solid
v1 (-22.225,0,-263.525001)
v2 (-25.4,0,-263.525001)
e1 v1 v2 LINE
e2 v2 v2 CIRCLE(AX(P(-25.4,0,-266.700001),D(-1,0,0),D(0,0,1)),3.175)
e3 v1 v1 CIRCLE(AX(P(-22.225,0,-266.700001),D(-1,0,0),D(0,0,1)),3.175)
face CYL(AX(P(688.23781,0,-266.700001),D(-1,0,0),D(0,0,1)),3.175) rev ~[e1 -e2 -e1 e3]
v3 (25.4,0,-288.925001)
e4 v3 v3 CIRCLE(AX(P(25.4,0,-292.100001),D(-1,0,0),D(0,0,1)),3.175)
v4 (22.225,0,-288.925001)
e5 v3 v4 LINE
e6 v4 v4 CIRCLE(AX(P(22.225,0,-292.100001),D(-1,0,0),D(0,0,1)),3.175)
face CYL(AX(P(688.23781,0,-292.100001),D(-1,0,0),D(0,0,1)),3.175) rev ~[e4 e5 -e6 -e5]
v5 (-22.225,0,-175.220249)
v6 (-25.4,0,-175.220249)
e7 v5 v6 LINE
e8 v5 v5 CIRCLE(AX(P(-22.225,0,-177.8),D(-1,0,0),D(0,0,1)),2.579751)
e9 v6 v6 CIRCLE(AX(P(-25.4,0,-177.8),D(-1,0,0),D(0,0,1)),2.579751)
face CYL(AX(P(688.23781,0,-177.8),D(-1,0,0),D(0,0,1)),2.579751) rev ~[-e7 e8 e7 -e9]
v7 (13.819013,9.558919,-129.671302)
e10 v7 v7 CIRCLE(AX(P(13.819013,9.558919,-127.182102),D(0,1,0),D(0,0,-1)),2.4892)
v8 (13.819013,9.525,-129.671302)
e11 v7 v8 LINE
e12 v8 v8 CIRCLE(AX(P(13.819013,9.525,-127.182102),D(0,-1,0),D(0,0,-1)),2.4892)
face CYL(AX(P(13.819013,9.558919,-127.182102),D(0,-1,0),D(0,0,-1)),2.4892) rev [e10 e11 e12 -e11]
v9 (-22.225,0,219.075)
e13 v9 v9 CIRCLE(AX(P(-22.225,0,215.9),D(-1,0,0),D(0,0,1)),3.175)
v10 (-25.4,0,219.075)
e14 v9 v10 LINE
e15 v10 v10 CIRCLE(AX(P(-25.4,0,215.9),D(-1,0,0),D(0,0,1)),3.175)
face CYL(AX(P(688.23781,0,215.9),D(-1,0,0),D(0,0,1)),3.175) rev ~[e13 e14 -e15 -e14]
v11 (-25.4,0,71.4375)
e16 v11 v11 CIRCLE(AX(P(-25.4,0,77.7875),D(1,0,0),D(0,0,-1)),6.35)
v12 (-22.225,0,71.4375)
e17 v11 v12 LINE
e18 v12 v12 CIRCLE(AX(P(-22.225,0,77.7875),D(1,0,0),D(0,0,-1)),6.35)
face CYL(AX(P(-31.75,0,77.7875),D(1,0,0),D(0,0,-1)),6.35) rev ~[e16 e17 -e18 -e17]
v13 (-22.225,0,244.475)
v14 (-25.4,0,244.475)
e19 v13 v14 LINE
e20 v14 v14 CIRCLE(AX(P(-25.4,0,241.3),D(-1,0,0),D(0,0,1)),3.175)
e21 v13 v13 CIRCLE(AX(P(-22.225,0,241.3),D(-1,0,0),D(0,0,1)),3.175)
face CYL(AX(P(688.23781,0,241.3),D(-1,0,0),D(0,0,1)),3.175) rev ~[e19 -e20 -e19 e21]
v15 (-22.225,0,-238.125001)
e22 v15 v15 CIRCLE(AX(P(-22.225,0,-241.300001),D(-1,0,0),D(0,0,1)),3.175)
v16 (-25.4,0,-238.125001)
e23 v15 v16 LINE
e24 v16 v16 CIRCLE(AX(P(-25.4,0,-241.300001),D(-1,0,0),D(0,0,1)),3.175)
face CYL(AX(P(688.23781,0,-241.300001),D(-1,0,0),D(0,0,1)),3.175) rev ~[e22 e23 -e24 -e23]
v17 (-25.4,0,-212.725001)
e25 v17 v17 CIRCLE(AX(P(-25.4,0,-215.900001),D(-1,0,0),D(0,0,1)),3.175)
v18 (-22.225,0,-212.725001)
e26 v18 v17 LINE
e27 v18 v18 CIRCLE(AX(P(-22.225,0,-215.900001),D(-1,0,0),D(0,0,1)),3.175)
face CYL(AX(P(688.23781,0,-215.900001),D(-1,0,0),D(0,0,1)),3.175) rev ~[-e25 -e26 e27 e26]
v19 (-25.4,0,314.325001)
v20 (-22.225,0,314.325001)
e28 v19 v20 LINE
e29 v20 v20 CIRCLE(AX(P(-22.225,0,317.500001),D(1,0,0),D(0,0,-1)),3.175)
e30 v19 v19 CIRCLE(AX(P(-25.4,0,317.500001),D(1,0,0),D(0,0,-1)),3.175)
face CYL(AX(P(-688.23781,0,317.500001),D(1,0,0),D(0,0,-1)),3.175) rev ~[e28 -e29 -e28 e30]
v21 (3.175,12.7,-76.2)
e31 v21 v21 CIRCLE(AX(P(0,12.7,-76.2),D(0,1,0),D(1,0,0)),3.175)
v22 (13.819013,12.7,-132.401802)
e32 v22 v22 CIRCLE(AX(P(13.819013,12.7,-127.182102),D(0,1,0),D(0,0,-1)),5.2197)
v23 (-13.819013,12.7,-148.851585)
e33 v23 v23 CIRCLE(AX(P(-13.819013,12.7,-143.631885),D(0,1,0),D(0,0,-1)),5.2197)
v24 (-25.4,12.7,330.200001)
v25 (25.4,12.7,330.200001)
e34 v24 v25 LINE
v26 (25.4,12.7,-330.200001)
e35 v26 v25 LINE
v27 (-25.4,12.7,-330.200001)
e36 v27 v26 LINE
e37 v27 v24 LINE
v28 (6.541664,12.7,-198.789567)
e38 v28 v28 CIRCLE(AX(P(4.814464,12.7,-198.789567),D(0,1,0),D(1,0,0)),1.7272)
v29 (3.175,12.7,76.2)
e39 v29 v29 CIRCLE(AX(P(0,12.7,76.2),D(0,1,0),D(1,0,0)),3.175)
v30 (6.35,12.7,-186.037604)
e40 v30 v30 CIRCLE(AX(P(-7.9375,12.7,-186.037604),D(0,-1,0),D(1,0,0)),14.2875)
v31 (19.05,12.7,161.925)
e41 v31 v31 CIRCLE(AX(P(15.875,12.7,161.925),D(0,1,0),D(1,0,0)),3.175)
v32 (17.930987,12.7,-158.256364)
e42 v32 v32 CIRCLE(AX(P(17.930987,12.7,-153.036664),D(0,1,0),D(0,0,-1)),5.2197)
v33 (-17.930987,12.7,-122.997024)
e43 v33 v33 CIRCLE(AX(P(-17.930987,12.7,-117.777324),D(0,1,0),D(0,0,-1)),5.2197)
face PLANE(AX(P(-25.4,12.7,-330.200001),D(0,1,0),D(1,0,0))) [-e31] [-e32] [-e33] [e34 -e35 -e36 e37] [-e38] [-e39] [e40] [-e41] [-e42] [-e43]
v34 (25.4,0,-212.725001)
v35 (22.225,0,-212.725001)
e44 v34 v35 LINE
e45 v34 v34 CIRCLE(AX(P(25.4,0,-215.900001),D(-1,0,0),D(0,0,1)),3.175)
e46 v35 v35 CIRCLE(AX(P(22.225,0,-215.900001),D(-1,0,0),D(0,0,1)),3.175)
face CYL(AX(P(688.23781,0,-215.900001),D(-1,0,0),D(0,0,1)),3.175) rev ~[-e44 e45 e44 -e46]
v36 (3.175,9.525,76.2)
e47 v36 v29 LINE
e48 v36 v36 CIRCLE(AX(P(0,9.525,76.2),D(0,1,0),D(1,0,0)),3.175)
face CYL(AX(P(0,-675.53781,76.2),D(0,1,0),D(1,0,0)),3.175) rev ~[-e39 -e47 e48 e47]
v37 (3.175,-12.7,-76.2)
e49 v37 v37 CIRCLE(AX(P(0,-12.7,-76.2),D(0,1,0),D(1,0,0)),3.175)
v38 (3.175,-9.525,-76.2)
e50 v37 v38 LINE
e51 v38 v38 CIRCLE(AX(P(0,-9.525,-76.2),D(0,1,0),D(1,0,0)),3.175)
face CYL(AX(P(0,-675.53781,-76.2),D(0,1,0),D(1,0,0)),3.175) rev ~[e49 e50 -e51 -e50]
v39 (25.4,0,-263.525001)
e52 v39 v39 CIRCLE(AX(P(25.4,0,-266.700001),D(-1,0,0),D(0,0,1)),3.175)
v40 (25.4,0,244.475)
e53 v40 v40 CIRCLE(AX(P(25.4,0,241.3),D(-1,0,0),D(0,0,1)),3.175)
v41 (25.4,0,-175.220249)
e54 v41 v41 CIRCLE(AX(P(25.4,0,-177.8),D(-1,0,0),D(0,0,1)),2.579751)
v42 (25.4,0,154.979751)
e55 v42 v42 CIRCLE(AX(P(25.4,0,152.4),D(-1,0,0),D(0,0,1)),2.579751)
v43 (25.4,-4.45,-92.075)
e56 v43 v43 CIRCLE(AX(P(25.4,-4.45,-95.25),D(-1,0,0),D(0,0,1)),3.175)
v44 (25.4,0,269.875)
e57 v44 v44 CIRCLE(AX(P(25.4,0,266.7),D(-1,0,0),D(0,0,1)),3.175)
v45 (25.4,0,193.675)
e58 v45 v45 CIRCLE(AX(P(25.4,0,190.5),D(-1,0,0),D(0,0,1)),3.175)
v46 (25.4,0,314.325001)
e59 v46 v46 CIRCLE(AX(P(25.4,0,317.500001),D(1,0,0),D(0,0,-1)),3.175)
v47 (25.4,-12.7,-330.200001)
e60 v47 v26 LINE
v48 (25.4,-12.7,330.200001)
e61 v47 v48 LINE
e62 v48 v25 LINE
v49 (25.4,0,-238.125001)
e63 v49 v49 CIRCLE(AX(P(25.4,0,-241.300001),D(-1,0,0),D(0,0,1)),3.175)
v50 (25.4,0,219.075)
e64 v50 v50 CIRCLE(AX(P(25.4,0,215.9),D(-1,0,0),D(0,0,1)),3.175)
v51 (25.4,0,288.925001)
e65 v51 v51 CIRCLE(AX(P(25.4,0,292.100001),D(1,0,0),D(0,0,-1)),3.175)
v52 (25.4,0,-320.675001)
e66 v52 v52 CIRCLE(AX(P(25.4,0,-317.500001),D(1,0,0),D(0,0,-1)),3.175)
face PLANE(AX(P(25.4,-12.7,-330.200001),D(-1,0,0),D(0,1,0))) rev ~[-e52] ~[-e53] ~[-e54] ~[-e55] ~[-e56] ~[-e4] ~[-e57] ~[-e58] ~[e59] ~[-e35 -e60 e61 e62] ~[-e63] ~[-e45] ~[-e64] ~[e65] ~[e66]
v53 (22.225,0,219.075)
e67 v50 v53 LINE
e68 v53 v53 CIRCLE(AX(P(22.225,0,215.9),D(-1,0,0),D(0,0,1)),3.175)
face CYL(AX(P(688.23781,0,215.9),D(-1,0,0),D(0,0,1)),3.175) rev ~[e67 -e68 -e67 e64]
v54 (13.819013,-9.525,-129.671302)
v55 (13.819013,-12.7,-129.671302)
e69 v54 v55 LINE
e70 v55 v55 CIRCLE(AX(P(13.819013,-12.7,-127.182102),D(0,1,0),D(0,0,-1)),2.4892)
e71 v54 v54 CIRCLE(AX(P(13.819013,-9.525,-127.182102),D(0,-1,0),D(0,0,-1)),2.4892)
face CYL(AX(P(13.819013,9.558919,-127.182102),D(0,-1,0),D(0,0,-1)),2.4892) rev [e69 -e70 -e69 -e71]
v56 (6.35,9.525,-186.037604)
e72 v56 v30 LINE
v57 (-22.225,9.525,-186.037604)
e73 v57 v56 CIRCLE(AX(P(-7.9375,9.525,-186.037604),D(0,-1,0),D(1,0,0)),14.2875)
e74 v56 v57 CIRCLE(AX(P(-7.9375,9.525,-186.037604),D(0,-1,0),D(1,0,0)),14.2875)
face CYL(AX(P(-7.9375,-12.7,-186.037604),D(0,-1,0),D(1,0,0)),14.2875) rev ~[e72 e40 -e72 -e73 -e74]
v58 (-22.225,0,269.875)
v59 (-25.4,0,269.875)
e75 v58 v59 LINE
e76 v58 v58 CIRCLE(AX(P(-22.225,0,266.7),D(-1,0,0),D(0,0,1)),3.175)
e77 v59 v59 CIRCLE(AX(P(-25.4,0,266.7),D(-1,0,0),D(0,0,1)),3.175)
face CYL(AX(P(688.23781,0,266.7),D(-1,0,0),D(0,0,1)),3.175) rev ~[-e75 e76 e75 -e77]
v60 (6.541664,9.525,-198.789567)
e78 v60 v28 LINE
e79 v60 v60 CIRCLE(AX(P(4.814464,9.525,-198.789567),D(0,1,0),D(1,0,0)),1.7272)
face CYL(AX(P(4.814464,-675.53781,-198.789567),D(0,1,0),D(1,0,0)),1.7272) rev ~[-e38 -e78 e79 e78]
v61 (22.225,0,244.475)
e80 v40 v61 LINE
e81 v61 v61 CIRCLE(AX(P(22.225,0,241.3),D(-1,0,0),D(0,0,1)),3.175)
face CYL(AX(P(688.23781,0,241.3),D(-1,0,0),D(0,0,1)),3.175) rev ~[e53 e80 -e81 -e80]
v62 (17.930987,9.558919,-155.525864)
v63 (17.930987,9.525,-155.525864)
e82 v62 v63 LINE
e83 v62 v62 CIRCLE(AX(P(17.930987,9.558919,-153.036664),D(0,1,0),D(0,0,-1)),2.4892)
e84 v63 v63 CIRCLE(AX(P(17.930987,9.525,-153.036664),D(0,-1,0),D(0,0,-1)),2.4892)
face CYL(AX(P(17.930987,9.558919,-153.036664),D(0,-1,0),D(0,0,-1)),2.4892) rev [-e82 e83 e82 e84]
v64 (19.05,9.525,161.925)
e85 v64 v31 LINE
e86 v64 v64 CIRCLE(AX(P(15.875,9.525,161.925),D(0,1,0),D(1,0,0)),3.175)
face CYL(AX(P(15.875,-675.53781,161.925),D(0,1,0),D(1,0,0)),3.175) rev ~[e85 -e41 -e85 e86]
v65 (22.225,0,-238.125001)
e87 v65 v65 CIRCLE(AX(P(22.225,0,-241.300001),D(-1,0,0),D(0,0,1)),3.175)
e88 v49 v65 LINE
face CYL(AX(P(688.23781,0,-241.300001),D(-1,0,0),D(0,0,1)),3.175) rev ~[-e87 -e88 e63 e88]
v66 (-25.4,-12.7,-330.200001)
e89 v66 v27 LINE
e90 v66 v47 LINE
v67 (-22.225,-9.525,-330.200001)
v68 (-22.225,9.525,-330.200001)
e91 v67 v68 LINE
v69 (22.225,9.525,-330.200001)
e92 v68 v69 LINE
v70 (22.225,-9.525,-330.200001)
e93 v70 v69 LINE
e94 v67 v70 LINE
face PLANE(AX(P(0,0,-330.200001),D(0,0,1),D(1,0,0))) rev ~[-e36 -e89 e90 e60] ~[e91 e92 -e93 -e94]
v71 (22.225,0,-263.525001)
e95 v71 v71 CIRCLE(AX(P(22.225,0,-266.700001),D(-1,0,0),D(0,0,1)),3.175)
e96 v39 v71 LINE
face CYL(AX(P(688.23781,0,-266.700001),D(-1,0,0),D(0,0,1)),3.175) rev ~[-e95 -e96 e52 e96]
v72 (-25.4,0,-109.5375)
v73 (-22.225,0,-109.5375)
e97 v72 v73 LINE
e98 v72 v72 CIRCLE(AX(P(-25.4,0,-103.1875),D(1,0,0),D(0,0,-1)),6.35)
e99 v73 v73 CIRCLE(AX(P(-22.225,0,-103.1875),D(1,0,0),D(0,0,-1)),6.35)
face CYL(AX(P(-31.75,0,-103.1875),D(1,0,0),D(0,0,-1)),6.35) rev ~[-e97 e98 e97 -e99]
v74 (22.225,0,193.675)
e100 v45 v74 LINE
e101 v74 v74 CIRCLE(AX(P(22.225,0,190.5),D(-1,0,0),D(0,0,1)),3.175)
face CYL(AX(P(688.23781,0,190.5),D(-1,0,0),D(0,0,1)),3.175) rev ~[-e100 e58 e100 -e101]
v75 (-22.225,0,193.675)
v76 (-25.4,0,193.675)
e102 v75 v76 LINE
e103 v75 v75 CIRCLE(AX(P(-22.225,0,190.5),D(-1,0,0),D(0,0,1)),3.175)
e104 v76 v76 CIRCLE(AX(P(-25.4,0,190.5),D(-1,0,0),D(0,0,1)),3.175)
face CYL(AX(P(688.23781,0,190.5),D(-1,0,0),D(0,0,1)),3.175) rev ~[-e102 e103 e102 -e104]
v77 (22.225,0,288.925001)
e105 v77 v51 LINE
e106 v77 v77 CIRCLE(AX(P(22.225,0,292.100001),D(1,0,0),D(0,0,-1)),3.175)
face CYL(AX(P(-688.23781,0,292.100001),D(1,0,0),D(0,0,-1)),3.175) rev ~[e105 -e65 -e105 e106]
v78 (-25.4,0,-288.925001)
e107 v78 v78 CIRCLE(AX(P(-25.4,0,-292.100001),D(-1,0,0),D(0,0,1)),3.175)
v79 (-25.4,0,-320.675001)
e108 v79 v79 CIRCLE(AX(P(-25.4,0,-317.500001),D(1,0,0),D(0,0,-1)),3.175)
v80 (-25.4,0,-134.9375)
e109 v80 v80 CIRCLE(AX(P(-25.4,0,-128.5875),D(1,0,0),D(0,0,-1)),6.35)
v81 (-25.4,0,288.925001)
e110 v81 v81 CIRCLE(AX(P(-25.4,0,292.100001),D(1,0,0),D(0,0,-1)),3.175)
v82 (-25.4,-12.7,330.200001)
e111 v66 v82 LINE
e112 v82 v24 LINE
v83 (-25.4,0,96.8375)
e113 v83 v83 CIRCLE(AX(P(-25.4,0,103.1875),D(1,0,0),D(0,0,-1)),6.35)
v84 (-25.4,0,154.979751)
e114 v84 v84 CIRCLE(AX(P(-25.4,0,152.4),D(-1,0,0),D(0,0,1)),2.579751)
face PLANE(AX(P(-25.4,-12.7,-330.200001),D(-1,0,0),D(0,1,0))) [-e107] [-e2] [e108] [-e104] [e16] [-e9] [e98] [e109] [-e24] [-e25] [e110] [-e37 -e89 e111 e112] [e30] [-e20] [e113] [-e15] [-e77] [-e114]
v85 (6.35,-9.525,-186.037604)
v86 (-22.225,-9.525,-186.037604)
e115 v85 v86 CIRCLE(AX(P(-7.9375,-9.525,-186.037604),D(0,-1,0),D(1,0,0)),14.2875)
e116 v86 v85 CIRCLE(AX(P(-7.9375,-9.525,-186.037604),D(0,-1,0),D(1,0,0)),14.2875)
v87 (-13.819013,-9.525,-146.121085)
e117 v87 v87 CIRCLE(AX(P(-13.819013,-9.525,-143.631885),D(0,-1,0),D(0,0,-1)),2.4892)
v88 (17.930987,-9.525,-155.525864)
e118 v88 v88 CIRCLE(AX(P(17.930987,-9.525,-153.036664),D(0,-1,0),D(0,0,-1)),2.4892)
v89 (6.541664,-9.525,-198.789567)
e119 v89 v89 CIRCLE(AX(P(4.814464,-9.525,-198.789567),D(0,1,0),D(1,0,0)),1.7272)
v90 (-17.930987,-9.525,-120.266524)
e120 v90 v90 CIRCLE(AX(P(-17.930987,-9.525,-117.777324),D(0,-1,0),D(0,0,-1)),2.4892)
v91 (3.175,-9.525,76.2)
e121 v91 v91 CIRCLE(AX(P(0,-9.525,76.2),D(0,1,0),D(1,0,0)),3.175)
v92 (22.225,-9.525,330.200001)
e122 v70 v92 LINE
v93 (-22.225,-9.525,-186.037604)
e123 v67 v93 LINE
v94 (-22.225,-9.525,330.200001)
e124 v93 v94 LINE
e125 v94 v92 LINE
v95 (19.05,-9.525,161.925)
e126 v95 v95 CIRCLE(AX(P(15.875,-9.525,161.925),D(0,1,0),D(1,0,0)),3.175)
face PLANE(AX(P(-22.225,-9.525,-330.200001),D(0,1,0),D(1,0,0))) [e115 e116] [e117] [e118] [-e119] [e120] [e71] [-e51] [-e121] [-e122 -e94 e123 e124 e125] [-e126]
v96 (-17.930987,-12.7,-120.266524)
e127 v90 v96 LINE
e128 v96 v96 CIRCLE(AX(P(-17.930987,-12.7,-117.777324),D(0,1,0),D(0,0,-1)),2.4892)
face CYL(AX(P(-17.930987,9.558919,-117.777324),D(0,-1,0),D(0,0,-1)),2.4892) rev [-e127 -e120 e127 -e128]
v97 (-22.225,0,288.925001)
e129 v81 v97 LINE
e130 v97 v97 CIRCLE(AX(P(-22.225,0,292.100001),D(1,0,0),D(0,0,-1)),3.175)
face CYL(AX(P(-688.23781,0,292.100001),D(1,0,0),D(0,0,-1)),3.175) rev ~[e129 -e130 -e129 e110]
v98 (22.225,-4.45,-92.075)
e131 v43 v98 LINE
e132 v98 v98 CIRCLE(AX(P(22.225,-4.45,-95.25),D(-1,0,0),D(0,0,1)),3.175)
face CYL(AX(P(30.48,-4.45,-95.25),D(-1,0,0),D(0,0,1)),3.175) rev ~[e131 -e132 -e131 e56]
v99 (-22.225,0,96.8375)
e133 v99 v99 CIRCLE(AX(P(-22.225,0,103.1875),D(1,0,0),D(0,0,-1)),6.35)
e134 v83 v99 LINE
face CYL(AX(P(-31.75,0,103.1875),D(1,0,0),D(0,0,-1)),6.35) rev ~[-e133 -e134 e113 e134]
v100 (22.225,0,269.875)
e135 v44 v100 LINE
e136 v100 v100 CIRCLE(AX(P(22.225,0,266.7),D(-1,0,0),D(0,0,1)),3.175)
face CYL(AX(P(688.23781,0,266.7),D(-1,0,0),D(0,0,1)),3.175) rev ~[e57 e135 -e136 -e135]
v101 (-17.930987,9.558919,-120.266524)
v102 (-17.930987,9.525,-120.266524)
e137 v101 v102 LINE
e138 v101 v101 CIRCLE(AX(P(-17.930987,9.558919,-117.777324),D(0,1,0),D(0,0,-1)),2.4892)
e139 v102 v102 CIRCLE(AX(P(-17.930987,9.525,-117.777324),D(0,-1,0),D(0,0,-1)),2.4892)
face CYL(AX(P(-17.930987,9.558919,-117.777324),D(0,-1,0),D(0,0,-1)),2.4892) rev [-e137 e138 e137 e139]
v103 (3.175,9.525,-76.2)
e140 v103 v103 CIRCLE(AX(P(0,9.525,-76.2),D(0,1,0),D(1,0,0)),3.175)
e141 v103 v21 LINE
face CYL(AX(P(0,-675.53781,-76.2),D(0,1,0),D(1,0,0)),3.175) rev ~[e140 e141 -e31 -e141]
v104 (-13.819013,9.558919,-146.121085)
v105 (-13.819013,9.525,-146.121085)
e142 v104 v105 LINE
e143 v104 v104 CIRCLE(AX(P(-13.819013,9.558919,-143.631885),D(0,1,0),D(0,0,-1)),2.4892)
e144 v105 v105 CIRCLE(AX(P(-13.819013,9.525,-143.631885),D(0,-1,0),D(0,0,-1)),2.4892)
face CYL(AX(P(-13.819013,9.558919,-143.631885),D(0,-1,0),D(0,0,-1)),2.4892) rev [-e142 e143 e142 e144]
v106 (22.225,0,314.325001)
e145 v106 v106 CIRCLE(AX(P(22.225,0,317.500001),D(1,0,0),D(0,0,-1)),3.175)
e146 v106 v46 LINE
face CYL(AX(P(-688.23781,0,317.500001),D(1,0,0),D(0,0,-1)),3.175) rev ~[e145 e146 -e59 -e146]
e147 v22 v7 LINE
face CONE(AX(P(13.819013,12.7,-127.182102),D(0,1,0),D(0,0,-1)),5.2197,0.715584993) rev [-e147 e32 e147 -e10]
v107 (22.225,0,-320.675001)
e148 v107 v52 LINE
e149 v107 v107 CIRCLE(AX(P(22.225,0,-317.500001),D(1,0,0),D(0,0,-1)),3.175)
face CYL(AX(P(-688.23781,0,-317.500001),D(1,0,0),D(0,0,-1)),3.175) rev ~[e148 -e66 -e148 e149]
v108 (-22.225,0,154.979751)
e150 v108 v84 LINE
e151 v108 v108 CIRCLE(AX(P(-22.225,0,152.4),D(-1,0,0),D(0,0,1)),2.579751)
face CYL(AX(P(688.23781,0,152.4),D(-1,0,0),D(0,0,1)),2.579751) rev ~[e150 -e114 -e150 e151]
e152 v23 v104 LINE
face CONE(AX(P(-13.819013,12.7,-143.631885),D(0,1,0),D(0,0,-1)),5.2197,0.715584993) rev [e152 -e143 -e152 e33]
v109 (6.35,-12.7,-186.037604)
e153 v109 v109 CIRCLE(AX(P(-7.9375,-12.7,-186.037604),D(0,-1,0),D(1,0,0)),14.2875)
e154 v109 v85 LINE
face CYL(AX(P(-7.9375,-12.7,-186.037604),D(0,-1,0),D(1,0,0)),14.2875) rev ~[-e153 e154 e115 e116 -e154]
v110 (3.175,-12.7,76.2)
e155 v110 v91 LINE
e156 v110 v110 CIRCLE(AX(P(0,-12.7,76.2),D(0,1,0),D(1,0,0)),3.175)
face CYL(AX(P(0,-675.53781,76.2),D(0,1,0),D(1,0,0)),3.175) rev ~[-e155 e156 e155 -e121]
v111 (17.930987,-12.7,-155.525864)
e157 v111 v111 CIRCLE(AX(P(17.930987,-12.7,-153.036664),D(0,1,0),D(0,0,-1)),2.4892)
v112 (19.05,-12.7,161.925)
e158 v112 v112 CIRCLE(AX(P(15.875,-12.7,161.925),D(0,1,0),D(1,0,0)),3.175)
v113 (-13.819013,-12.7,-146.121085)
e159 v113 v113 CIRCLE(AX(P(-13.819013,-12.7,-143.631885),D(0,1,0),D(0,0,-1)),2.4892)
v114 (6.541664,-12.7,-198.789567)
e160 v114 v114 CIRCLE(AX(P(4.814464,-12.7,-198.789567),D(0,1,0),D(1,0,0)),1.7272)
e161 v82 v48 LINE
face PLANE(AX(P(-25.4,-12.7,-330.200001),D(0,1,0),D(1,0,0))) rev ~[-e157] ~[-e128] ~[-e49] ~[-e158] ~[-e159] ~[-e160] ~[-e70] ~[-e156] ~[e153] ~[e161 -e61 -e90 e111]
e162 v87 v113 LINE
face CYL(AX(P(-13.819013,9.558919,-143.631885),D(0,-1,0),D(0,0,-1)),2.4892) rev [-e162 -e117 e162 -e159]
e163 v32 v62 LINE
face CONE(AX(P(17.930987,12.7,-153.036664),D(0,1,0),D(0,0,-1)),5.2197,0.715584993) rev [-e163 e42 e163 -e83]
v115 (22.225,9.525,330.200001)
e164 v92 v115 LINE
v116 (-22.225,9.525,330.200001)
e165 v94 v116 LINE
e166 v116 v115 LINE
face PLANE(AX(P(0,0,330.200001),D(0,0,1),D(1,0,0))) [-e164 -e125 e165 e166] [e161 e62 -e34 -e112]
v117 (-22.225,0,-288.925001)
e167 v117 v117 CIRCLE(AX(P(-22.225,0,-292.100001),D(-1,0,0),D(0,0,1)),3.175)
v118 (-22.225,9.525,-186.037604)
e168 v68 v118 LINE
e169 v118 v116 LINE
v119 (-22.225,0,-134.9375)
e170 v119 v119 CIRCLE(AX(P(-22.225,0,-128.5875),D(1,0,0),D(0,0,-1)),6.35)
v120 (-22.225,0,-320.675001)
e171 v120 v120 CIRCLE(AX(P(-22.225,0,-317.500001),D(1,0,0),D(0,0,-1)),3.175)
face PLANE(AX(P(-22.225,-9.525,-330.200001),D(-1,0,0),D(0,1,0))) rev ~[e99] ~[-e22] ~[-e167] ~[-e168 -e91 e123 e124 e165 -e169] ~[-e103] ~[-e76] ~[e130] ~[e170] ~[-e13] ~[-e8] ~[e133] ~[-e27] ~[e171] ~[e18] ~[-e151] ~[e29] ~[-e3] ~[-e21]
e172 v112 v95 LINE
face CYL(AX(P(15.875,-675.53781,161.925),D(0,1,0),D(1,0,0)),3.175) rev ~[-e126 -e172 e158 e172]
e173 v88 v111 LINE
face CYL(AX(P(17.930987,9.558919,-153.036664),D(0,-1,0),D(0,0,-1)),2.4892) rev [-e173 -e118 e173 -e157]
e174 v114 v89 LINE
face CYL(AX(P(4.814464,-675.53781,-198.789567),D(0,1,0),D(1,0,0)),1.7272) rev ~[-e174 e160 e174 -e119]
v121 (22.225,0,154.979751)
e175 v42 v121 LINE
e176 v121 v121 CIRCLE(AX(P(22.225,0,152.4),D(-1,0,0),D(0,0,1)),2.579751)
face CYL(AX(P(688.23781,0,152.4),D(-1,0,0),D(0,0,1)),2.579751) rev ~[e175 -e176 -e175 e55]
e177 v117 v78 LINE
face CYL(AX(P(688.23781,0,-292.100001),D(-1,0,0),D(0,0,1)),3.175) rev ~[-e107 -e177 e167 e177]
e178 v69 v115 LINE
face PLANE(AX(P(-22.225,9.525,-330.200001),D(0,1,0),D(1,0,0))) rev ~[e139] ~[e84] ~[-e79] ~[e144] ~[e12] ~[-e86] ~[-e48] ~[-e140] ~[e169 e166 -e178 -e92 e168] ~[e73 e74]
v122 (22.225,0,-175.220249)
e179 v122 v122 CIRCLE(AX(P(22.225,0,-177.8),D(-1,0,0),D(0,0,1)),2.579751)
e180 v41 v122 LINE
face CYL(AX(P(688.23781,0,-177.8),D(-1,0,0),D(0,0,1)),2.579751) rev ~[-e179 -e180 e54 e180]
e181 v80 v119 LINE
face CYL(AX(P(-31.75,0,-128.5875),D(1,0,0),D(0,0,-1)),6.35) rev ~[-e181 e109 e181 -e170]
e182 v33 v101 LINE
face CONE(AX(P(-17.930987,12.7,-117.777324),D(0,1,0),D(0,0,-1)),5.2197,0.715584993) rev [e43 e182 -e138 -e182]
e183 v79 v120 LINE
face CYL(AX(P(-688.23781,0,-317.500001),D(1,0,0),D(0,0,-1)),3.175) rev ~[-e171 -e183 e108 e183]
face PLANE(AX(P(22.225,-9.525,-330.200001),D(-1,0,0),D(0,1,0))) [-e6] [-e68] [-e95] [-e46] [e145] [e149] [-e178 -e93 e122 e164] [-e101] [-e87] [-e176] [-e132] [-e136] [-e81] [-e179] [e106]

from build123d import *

# Parameters (mm, degrees)
BOSS_EXTRUDE1_DEPTH              = 330.200001
BOSS_EXTRUDE1_DEPTH_BACK         = 330.200001
SKETCH3_W                        = 50.8
SKETCH3_H                        = 25.4
SKETCH3_W_2                      = 44.45
SKETCH3_H_2                      = 19.05
F_1_4_0_25_DIAMETER_HOLE3_D      = 6.35
F_1_4_0_25_DIAMETER_HOLE4_D      = 6.35
F_1_4_0_25_DIAMETER_HOLE5_D      = 6.35
F_1_4_0_25_DIAMETER_HOLE6_D      = 6.35
F_1_4_0_25_DIAMETER_HOLE7_D      = 6.35
F_1_4_0_25_DIAMETER_HOLE8_D      = 6.35
F_13_64_0_20313_DIAMETER_HOLE1_D = 5.159502
F_1_2_0_5_DIAMETER_HOLE1_D       = 12.7
F_1_2_0_5_DIAMETER_HOLE1_DEPTH   = 6.35
F_1_2_0_5_DIAMETER_HOLE1_TIP     = 3.815464931
F_10_CLEARANCE_HOLE1_AT_2_COUNT  = 2
F_10_CLEARANCE_HOLE1_AT_2_PITCH  = 26.179508771
F_10_CLEARANCE_HOLE1_AT_3_COUNT  = 2
F_10_CLEARANCE_HOLE1_AT_3_PITCH  = 32.162957462
F_10_CLEARANCE_HOLE1_AT_4_COUNT  = 2
F_10_CLEARANCE_HOLE1_AT_4_PITCH  = 33.11362798
SKETCH35_R                       = 14.2875
CUT_EXTRUDE1_DEPTH               = 333.148100492
TAP_DRILL_FOR_8_32_TAP1_D        = 3.4544
F_1_4_0_25_DIAMETER_HOLE9_D      = 6.35
F_1_4_0_25_DIAMETER_HOLE10_D     = 6.35
F_1_4_0_25_DIAMETER_HOLE10_DEPTH = 5.08
F_1_4_0_25_DIAMETER_HOLE10_TIP   = 1.907732465


with BuildPart() as part:
    # Sketch3 → Boss-Extrude1 (new, two sides: drawn at the far end of the back side and taken through both)
    with BuildSketch(Plane.XY.offset(-BOSS_EXTRUDE1_DEPTH_BACK)):
        Rectangle(SKETCH3_W, SKETCH3_H)
        Rectangle(SKETCH3_W_2, SKETCH3_H_2, mode=Mode.SUBTRACT)
    extrude(amount=BOSS_EXTRUDE1_DEPTH + BOSS_EXTRUDE1_DEPTH_BACK)

    # 1/4 (0.25) Diameter Hole3 (through all)
    with Locations(Plane.ZY.offset(25.4)):
        with Locations((-317.500000508, 0)):
            Hole(F_1_4_0_25_DIAMETER_HOLE3_D / 2)

    # 1/4 (0.25) Diameter Hole4 (through all)
    with Locations(Plane.ZY.offset(25.4)):
        with Locations((292.100000508, 0), (317.500000508, 0)):
            Hole(F_1_4_0_25_DIAMETER_HOLE4_D / 2)

    # 1/4 (0.25) Diameter Hole5 (through all)
    with Locations(Plane(origin=(25.4, 0, 0), x_dir=(0, 0, -1), z_dir=(1, 0, 0))):
        with Locations((292.100000508, 0), (266.700000508, 0)):
            Hole(F_1_4_0_25_DIAMETER_HOLE5_D / 2)

    # 1/4 (0.25) Diameter Hole6 (through all)
    with Locations(Plane(origin=(25.4, 0, 0), x_dir=(0, 0, -1), z_dir=(1, 0, 0))):
        with Locations((215.900000508, 0), (241.300000508, 0)):
            Hole(F_1_4_0_25_DIAMETER_HOLE6_D / 2)

    # 1/4 (0.25) Diameter Hole7 (through all)
    with Locations(Plane(origin=(25.4, 0, 0), x_dir=(0, 0, -1), z_dir=(1, 0, 0))):
        with Locations((-190.5, 0), (-215.9, 0)):
            Hole(F_1_4_0_25_DIAMETER_HOLE7_D / 2)

    # 1/4 (0.25) Diameter Hole8 (through all)
    with Locations(Plane(origin=(25.4, 0, 0), x_dir=(0, 0, -1), z_dir=(1, 0, 0))):
        with Locations((-266.7, 0), (-241.3, 0)):
            Hole(F_1_4_0_25_DIAMETER_HOLE8_D / 2)

    # 13/64 (0.20313) Diameter Hole1 (through all)
    with Locations(Plane(origin=(25.4, 0, 0), x_dir=(0, 0, -1), z_dir=(1, 0, 0))):
        with Locations((-152.4, 0), (177.8, 0)):
            Hole(F_13_64_0_20313_DIAMETER_HOLE1_D / 2)

    # 1/2 (0.5) Diameter Hole1
    with Locations(Plane.ZY.offset(25.4)):
        with Locations((-591.301639708, -480.802221962), (-103.1875, 0), (77.7875, 0), (103.1875, 0), (-128.5875, 0)):
            Hole(F_1_2_0_5_DIAMETER_HOLE1_D / 2, depth=F_1_2_0_5_DIAMETER_HOLE1_DEPTH)
            with Locations((0, 0, -(F_1_2_0_5_DIAMETER_HOLE1_DEPTH + F_1_2_0_5_DIAMETER_HOLE1_TIP / 2))):  # 118° drill point
                Cone(0, F_1_2_0_5_DIAMETER_HOLE1_D / 2, F_1_2_0_5_DIAMETER_HOLE1_TIP, mode=Mode.SUBTRACT)

    # Sketch34 → #10 Clearance Hole1 (revolve, cut)
    with BuildSketch(Plane(origin=(-13.81901292, -12.7, -143.631885069), x_dir=(0, 0, -1), z_dir=(1, 0, 0))):
        Polygon((0, 0), (0, 25.4), (5.2197, 25.4), (2.4892, 22.258919064), (2.4892, 0), align=None)
    f_10_clearance_hole1 = revolve(axis=Axis((-13.81901292, -19.05, -143.631885069), (0, 1, 0)), mode=Mode.SUBTRACT)

    # #10 Clearance Hole1 at 2: #10 Clearance Hole1 ×2
    with Locations(*[Vector(-0.15706842311694033, 0, 0.9875877229186063) * (i * F_10_CLEARANCE_HOLE1_AT_2_PITCH) for i in range(1, F_10_CLEARANCE_HOLE1_AT_2_COUNT)]):
        add(f_10_clearance_hole1, mode=Mode.SUBTRACT)

    # #10 Clearance Hole1 at 3: #10 Clearance Hole1 ×2
    with Locations(*[Vector(0.8593123276123446, 0, 0.5114511937745914) * (i * F_10_CLEARANCE_HOLE1_AT_3_PITCH) for i in range(1, F_10_CLEARANCE_HOLE1_AT_3_COUNT)]):
        add(f_10_clearance_hole1, mode=Mode.SUBTRACT)

    # #10 Clearance Hole1 at 4: #10 Clearance Hole1 ×2
    with Locations(*[Vector(0.9588197348681927, 0, -0.28401534470392387) * (i * F_10_CLEARANCE_HOLE1_AT_4_PITCH) for i in range(1, F_10_CLEARANCE_HOLE1_AT_4_COUNT)]):
        add(f_10_clearance_hole1, mode=Mode.SUBTRACT)

    # Sketch35 → Cut-Extrude1 (cut, through all)
    with BuildSketch(Plane.XZ.offset(12.7)):
        with Locations((-7.9375, -186.037603725)):
            Circle(SKETCH35_R)
    extrude(amount=-CUT_EXTRUDE1_DEPTH, mode=Mode.SUBTRACT)

    # Tap Drill for #8-32 Tap1 (through all)
    with Locations(Plane(origin=(0, -12.7, 0), x_dir=(-1, 0, 0), z_dir=(0, -1, 0))):
        with Locations((-4.814463692, 198.789567417)):
            Hole(TAP_DRILL_FOR_8_32_TAP1_D / 2)

    # 1/4 (0.25) Diameter Hole9 (through all)
    with Locations(Plane(origin=(0, -12.7, 0), x_dir=(-1, 0, 0), z_dir=(0, -1, 0))):
        with Locations((-15.875, -161.925), (0, -76.2), (0, 76.2)):
            Hole(F_1_4_0_25_DIAMETER_HOLE9_D / 2)

    # 1/4 (0.25) Diameter Hole10
    with Locations(Plane(origin=(25.4, 0, 0), x_dir=(0, 0, -1), z_dir=(1, 0, 0))):
        with Locations((95.25, -4.45)):
            Hole(F_1_4_0_25_DIAMETER_HOLE10_D / 2, depth=F_1_4_0_25_DIAMETER_HOLE10_DEPTH)
            with Locations((0, 0, -(F_1_4_0_25_DIAMETER_HOLE10_DEPTH + F_1_4_0_25_DIAMETER_HOLE10_TIP / 2))):  # 118° drill point
                Cone(0, F_1_4_0_25_DIAMETER_HOLE10_D / 2, F_1_4_0_25_DIAMETER_HOLE10_TIP, mode=Mode.SUBTRACT)


solid = part.part
